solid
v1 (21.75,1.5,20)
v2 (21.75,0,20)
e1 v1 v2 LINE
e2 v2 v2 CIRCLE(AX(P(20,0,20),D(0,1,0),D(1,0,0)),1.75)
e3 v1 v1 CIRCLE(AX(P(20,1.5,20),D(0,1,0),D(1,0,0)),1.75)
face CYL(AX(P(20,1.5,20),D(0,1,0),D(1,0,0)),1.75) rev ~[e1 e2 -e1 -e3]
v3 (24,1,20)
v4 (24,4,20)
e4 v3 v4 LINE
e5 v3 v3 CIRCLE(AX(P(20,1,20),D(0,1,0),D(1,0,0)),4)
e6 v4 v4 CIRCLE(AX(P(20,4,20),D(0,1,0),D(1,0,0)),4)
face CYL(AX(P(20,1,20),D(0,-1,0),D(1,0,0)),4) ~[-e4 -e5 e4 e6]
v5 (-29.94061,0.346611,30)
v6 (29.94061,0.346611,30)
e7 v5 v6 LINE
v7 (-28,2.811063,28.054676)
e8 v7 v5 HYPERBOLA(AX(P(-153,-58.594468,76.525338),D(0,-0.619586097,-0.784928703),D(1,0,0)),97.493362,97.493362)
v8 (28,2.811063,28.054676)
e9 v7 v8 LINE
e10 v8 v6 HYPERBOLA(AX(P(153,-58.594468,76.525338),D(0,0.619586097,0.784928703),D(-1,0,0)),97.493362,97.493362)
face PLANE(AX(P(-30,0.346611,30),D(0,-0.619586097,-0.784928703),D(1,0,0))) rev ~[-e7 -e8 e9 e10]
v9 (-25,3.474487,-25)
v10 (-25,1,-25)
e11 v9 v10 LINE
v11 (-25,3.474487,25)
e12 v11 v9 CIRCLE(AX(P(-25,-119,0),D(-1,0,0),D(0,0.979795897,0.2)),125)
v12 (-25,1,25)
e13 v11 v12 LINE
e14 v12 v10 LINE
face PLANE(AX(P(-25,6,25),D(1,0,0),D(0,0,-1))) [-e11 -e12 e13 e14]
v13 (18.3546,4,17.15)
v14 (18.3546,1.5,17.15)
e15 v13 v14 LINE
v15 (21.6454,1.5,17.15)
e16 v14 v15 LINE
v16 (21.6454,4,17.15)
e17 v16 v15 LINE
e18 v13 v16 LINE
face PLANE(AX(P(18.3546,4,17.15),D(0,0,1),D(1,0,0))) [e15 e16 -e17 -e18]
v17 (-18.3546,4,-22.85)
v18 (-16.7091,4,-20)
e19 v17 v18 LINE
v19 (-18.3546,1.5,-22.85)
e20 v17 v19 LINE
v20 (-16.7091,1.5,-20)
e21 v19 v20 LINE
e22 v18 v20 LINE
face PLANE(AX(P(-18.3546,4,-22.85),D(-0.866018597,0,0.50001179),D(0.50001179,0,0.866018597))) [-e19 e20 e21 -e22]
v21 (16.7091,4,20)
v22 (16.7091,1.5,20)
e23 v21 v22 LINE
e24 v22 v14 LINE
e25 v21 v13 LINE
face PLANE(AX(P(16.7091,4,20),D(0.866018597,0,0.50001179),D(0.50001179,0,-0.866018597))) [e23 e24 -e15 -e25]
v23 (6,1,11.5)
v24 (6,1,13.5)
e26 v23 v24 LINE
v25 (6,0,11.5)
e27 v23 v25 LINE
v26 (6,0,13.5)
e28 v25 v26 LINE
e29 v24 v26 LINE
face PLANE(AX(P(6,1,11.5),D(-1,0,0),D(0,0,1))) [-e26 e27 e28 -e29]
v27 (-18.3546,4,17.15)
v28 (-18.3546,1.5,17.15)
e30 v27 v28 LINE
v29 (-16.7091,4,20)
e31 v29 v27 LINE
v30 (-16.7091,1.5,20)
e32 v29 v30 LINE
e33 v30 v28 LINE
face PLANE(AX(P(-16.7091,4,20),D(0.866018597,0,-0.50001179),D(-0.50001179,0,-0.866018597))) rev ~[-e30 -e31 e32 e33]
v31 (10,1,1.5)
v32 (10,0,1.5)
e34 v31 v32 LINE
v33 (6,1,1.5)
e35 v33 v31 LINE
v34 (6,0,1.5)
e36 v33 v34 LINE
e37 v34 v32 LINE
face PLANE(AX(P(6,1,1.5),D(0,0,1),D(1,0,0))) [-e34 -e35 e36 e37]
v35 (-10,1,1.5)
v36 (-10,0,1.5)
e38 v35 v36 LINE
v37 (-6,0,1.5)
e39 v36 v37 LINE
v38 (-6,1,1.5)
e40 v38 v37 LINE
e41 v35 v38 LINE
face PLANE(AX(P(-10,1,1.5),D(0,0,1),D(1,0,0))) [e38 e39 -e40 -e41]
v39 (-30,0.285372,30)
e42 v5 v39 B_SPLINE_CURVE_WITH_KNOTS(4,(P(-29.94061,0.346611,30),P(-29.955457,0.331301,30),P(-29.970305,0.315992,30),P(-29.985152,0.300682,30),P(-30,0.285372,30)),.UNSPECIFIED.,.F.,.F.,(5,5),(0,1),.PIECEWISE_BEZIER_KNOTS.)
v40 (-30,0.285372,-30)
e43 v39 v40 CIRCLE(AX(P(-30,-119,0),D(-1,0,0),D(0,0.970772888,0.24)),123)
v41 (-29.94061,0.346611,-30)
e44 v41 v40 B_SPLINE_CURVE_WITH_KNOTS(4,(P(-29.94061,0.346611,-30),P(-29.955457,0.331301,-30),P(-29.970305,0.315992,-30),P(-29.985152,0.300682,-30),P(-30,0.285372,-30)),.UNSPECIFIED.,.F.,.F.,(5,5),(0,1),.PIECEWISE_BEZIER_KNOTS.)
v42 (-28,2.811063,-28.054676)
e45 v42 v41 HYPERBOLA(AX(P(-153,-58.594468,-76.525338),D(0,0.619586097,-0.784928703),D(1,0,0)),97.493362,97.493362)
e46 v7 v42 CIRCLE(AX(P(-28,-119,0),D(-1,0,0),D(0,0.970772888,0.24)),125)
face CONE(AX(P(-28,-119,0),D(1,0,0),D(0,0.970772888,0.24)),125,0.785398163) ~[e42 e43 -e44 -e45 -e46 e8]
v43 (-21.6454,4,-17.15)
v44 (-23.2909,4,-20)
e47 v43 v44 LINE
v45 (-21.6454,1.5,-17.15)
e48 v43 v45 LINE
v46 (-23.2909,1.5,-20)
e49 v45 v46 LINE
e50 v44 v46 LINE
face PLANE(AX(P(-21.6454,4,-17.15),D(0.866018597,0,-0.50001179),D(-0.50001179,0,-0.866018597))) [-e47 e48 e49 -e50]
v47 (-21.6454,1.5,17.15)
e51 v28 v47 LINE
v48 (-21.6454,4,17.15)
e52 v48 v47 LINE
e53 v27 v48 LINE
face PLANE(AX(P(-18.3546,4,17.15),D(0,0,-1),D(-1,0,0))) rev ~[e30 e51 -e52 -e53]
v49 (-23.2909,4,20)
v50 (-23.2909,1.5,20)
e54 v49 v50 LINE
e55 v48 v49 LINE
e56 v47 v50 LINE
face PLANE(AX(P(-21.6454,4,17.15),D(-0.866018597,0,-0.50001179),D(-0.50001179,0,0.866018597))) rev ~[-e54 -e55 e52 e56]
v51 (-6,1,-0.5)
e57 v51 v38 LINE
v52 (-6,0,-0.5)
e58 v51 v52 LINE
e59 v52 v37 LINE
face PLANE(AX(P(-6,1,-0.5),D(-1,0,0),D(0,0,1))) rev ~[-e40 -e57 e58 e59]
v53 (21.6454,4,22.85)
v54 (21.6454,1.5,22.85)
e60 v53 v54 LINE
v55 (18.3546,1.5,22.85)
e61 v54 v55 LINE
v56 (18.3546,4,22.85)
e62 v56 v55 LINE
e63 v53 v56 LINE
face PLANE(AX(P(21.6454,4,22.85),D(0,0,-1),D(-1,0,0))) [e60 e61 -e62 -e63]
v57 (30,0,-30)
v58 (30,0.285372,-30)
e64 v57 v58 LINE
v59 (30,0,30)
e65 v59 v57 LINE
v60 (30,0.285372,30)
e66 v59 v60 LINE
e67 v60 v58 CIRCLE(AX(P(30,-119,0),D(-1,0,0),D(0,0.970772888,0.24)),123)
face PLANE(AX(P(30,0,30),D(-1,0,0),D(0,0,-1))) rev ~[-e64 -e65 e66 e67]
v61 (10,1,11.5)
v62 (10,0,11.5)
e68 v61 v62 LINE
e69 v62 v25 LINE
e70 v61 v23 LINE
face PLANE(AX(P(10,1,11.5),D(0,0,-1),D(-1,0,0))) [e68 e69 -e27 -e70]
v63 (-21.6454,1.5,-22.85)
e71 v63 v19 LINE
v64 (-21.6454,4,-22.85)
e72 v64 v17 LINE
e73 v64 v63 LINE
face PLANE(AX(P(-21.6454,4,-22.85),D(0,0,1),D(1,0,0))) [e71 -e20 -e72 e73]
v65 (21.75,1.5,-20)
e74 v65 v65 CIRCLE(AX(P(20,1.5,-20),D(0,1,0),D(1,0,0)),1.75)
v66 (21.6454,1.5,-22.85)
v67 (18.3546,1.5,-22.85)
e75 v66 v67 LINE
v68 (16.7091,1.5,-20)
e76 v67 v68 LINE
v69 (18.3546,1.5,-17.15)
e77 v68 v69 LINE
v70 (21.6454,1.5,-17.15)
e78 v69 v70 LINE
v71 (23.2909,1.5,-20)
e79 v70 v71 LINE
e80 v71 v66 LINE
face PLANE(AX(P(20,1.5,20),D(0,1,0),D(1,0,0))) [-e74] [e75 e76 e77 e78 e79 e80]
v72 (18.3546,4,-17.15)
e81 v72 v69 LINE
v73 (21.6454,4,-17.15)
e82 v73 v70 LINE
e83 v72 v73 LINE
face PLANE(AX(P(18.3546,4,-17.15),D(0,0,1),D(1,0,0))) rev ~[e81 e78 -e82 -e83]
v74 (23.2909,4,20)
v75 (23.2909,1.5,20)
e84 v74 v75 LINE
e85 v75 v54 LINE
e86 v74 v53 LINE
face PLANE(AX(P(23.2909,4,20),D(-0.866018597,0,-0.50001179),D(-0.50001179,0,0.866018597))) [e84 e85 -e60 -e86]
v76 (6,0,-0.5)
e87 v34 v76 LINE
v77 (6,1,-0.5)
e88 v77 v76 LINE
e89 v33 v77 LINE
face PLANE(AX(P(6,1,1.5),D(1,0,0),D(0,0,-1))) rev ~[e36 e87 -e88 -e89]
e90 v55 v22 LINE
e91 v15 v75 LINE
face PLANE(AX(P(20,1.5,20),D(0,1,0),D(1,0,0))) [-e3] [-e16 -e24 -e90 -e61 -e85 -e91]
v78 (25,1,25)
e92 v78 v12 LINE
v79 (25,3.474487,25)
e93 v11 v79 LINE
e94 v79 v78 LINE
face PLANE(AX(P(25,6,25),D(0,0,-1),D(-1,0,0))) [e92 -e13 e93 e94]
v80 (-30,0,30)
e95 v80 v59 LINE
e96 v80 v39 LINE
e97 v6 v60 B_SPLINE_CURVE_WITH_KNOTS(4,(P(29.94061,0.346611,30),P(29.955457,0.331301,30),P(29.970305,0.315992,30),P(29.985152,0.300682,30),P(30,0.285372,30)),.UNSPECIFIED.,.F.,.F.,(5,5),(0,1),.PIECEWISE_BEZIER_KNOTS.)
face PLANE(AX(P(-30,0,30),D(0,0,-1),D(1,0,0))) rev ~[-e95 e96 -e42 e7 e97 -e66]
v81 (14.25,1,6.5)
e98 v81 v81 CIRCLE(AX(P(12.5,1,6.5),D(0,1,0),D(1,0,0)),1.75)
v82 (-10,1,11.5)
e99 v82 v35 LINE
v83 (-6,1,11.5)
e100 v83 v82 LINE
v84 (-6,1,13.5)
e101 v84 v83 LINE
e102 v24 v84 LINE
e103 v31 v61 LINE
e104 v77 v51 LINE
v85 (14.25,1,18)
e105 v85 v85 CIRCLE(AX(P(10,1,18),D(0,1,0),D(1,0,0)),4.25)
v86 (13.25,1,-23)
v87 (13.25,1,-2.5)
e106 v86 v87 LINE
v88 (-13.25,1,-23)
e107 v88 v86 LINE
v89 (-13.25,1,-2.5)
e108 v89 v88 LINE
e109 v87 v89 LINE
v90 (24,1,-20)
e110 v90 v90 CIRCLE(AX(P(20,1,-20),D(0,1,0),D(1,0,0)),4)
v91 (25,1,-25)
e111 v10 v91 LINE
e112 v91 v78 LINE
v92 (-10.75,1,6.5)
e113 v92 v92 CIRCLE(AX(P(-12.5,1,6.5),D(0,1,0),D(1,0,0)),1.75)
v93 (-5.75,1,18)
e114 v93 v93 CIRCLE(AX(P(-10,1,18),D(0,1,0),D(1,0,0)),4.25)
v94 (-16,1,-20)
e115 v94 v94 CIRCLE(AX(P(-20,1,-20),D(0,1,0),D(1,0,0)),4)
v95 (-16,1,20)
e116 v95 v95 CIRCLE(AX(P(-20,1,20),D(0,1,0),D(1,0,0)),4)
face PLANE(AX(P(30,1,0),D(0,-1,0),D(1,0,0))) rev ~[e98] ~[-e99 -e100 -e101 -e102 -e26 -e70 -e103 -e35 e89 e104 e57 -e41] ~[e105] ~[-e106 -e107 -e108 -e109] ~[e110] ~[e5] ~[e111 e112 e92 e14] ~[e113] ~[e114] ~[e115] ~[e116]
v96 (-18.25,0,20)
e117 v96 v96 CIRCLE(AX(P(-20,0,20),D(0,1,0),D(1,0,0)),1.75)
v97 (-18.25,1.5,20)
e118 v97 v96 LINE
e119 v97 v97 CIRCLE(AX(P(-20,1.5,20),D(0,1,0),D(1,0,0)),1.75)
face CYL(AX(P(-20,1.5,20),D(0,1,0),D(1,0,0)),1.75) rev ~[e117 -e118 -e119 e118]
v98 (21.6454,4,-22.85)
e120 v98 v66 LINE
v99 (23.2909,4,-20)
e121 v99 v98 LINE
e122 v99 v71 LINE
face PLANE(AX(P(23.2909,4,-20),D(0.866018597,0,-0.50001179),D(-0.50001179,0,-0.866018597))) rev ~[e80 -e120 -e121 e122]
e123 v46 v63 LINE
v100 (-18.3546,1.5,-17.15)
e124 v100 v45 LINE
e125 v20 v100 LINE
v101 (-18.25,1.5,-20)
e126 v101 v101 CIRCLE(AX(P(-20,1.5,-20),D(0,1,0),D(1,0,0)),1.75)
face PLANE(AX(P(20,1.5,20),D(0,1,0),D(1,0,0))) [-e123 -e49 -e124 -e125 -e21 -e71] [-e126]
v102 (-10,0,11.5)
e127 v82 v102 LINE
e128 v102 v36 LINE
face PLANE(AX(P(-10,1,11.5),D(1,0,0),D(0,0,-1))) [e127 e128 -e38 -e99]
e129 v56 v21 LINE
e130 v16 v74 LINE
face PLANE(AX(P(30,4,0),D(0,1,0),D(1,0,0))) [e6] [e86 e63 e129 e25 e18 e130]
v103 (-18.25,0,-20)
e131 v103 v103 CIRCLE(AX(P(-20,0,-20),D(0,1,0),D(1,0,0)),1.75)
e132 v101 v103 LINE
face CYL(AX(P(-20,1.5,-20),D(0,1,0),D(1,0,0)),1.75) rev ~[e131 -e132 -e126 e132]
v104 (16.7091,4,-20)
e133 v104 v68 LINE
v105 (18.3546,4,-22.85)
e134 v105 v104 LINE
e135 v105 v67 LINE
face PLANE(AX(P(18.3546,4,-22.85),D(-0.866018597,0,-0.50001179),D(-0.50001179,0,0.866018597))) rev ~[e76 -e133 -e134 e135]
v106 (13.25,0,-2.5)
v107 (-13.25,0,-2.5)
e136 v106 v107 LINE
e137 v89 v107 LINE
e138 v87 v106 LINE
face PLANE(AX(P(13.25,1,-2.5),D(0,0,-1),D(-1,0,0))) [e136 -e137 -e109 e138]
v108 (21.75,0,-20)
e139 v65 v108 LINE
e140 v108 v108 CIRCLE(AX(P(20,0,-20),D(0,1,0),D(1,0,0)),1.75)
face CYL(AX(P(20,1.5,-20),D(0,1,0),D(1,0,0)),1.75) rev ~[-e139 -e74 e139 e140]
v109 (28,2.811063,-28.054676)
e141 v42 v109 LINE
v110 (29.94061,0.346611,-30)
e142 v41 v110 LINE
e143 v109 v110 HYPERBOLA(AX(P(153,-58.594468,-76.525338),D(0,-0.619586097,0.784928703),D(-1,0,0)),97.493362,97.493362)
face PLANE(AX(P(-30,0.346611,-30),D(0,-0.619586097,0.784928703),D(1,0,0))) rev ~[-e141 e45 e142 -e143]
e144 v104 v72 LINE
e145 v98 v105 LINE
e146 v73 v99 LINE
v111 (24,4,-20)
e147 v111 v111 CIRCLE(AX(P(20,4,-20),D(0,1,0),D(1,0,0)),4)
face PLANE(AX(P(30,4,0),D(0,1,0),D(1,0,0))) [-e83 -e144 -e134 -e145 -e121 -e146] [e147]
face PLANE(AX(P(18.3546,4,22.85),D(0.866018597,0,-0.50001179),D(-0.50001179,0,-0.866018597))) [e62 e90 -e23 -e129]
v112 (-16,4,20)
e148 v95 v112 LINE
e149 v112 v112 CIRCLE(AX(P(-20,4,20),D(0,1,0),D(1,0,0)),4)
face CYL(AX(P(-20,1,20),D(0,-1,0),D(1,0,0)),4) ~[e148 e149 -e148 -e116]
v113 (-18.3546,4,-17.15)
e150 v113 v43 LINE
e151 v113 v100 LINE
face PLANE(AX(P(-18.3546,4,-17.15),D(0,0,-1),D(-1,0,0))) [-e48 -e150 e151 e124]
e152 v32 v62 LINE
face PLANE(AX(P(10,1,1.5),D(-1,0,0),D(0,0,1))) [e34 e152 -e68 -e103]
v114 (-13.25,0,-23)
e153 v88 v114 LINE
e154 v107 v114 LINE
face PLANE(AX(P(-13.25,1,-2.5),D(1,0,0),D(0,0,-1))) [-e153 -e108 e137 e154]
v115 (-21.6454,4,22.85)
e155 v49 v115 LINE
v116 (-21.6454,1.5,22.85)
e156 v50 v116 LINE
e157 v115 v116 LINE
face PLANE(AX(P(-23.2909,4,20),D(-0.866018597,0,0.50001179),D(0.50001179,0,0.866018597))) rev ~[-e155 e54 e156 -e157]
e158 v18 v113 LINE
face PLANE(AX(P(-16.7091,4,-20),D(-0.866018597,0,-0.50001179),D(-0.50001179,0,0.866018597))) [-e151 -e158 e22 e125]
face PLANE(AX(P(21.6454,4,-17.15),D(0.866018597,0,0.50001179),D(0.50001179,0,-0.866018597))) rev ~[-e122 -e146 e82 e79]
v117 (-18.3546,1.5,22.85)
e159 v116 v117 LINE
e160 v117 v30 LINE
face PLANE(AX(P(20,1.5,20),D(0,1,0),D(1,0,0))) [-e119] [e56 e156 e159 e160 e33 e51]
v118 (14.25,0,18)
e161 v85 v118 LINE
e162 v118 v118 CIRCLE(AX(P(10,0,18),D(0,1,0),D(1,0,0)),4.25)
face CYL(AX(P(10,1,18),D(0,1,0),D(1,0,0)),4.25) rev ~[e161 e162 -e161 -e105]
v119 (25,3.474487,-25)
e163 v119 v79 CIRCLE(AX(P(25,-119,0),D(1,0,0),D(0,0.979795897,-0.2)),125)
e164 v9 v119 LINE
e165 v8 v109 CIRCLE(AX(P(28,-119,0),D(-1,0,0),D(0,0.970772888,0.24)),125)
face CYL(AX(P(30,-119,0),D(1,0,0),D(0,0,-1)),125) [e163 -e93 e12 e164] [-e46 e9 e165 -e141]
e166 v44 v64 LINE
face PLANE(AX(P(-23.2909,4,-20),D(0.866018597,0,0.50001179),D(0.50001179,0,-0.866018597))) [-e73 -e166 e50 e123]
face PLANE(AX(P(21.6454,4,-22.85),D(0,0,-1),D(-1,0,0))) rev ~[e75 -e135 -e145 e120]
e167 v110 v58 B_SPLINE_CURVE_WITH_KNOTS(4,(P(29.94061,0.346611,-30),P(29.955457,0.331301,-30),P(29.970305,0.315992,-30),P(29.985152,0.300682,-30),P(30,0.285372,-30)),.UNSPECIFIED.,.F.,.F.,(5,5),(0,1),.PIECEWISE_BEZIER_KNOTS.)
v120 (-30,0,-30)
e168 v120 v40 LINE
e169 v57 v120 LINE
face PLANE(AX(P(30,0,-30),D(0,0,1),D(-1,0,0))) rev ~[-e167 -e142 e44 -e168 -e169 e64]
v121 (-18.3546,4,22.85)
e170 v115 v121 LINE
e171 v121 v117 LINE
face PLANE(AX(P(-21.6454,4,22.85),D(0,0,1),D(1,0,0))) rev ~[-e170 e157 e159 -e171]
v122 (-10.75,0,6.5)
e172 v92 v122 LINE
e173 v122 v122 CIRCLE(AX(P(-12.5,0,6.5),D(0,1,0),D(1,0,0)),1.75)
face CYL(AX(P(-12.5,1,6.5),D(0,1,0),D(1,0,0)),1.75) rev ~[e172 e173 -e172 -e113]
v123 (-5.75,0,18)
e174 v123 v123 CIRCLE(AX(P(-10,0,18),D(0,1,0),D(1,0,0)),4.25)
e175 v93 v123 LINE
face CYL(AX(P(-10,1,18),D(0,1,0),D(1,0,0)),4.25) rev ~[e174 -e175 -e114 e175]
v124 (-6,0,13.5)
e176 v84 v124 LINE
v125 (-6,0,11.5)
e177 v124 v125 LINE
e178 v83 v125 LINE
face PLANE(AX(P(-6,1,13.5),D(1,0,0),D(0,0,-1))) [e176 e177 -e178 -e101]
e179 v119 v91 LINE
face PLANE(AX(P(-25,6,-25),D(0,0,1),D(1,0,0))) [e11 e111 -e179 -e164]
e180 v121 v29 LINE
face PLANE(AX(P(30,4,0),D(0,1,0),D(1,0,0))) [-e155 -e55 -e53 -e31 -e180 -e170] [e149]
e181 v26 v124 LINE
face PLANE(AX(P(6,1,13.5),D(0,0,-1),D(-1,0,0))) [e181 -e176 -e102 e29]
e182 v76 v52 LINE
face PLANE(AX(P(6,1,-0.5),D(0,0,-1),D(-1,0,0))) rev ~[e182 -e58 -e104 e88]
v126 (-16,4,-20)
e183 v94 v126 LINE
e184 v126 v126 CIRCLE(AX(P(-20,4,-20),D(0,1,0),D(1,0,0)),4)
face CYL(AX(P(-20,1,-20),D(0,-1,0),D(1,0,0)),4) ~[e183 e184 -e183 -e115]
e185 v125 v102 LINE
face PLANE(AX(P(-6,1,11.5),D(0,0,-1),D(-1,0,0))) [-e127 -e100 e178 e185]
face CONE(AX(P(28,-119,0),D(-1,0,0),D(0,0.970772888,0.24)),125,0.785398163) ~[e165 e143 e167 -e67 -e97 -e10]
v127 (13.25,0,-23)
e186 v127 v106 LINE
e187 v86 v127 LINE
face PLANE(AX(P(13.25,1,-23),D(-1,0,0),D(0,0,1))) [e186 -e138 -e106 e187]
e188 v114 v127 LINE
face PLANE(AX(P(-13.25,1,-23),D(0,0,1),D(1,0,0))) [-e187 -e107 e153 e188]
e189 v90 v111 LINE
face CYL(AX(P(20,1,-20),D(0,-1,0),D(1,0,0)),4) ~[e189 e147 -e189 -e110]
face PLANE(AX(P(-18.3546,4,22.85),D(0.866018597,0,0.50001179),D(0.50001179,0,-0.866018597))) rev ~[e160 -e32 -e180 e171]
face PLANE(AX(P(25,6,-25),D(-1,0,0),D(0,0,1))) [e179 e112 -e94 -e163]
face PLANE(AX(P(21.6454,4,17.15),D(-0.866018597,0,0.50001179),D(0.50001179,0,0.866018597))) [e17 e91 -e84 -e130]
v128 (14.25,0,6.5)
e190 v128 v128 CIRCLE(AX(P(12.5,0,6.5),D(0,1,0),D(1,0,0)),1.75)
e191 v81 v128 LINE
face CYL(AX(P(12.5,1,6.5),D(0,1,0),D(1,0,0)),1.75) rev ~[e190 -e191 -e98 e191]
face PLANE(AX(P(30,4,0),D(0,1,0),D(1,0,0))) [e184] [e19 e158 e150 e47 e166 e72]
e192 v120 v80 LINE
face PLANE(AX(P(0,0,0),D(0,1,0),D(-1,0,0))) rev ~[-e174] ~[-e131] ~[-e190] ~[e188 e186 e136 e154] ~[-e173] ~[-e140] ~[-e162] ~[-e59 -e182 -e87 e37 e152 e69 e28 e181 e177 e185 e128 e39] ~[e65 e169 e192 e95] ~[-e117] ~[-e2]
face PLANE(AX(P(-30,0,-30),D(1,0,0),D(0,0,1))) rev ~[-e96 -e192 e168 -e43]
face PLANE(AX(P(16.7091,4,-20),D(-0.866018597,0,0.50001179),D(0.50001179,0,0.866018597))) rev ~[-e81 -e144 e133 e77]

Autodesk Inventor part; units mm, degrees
ref_plane "YZ Plane" through (0, 0, 0) normal (1, 0, 0) x (0, 1, 0)
ref_plane "XZ Plane" through (0, 0, 0) normal (0, 1, 0) x (-1, 0, 0)
sketch "Sketch1" plane through (0, 0, 0) normal (0, 1, 0) x (-1, 0, 0)
  line L0 (30, 30) -> (-30, 30)
  line L1 (-30, 30) -> (-30, -30)
  line L2 (-30, -30) -> (30, -30)
  line L3 (30, -30) -> (30, 30)
  line L4 (30, 30) -> (-30, -30) construction
  line L5 (-30, 30) -> (30, -30) construction
  point P0 (0, 0)
  dimension "d0" = 60
  dimension "d1" = 60
extrude "Extrusion1" add sketch "Sketch1" along normal blind 6
sketch "Sketch2" plane through (30, 0, 30) normal (1, 0, 0) x (0, 0, -1)
  circle A0 centre (30, -119) radius 125
  line L0 (0, 6) -> (60, 6) projected
  line L1 (0, 0) -> (60, 0) projected
  point P0 (30, 0)
  point P1 (30, 0)
  dimension "d4" = 250
extrude "Extrusion2" cut sketch "Sketch2" against normal through all keep common part
ref_plane "Work Plane1" through (30, 6, 0) normal (0, -1, 0) x (1, 0, 0)
sketch "Sketch3" plane through (30, 6, 0) normal (0, -1, 0) x (1, 0, 0)
  line L0 (-55, -25) -> (-5, -25)
  line L1 (-5, -25) -> (-5, 25)
  line L2 (-5, 25) -> (-55, 25)
  line L3 (-55, 25) -> (-55, -25)
  line L4 (-55, -25) -> (-5, 25) construction
  line L5 (-5, -25) -> (-55, 25) construction
  line L6 (0, -30) -> (-60, -30) projected
  line L7 (0, 30) -> (0, -30) projected
  point P0 (-30, 0)
  point P1 (-30, 0)
  dimension "d19" = 5
  dimension "d20" = 5
extrude "Extrusion3" cut sketch "Sketch3" along normal blind 5
sketch "Sketch4" plane through (30, 1, 0) normal (0, 1, 0) x (1, 0, 0)
  line L0 (-43.25, 23) -> (-16.75, 23)
  line L1 (-16.75, 23) -> (-16.75, 2.5)
  line L2 (-16.75, 2.5) -> (-43.25, 2.5)
  line L3 (-43.25, 2.5) -> (-43.25, 23)
  line L4 (-43.25, 23) -> (-16.75, 2.5) construction
  line L5 (-16.75, 23) -> (-43.25, 2.5) construction
  line L6 (-55, 25) -> (-5, 25) projected
  line L7 (-30, 12.75) -> (-30, 10.9588)
  line L8 (-40, -1.5) -> (-20, -1.5)
  line L9 (-20, -1.5) -> (-20, -11.5)
  line L10 (-20, -11.5) -> (-40, -11.5)
  line L11 (-40, -11.5) -> (-40, -1.5)
  line L12 (-40, -1.5) -> (-20, -11.5) construction
  line L13 (-20, -1.5) -> (-40, -11.5) construction
  circle A0 centre (-42.5, -6.5) radius 1.75
  circle A1 centre (-17.5, -6.5) radius 1.75
  circle A2 centre (-40, -18) radius 4.25
  circle A3 centre (-20, -18) radius 4.25
  line L14 (-24, -13.5) -> (-36, -13.5)
  line L15 (-36, -13.5) -> (-36, -11.5)
  line L16 (-36, -11.5) -> (-24, -11.5)
  line L17 (-24, -11.5) -> (-24, -13.5)
  line L18 (-24, -13.5) -> (-36, -11.5) construction
  line L19 (-36, -13.5) -> (-24, -11.5) construction
  line L20 (-24, 0.5) -> (-36, 0.5)
  line L21 (-36, 0.5) -> (-36, -1.5)
  line L22 (-36, -1.5) -> (-24, -1.5)
  line L23 (-24, -1.5) -> (-24, 0.5)
  line L24 (-24, 0.5) -> (-36, -1.5) construction
  line L25 (-36, 0.5) -> (-24, -1.5) construction
  line L26 (0, 30) -> (-60, 30) projected
  point P0 (-30, 0)
  point P1 (-30, -6.5)
  point P2 (-30, -12.5)
  point P3 (-30, -0.5)
  point P4 (-24, -11.5)
  point P5 (-24, -1.5)
  dimension "d11" = 20.5
  dimension "d12" = 26.5
  dimension "d13" = 2
  dimension "d26" = 10
  dimension "d27" = 20
  dimension "d28" = 4
  dimension "d29" = 3.5
  dimension "d30" = 3.5
  dimension "d31" = 25
  dimension "d38" = 8.5
  dimension "d42" = 20
  dimension "d43" = 12
  dimension "d44" = 2
  dimension "d45" = 12
  dimension "d46" = 2
  dimension "d64" = 48
extrude "Extrusion4" cut sketch "Sketch4" against normal through all contours L0 L1 L2 L3
chamfer "Chamfer1" distance 2 angle 45 4 edges at (-30, 6, 0) (0, 2.3466, -30) (30, 6, 0) (0, 2.3466, 30)
extrude "Extrusion6" cut sketch "Sketch4" against normal blind 10 contours L8 L9 L10 L11 | L21 L20 L23 L8 | L10 L17 L14 L15
extrude "Extrusion7" cut sketch "Sketch4" against normal through all contours A0 | A1
sketch "Sketch8" plane through (30, 1, 0) normal (0, 1, 0) x (1, 0, 0)
  line L0 (-30, -21.9563) -> (-30, 0)
  line L1 (-30, 0) -> (-52.0851, 0)
  line L2 (-24, 0.5) -> (-36, 0.5) projected
  circle A0 centre (-10, -20) radius 4
  circle A1 centre (-50, -20) radius 4
  circle A2 centre (-10, 20) radius 4
  circle A3 centre (-50, 20) radius 4
  dimension "d56" = 8
  dimension "d57" = 40
  dimension "d58" = 40
extrude "Extrusion11" add sketch "Sketch8" along normal blind 3
sketch "Sketch9" plane through (20, 4, 20) normal (0, 1, 0) x (1, 0, 0)
  circle A0 centre (0, 0) radius 4 projected
  line L0 (-3.2909, 0) -> (-1.6454, 2.85)
  line L1 (-1.6454, 2.85) -> (1.6454, 2.85)
  line L2 (1.6454, 2.85) -> (3.2909, 0)
  line L3 (3.2909, 0) -> (1.6454, -2.85)
  line L4 (1.6454, -2.85) -> (-1.6454, -2.85)
  line L5 (-1.6454, -2.85) -> (-3.2909, 0)
  line L6 (-20, 20) -> (-20, -14.7527)
  line L7 (-20, 20) -> (-56.1519, 20)
  line L8 (-36.7091, 0) -> (-38.3546, 2.85)
  line L9 (-38.3546, 2.85) -> (-41.6454, 2.85)
  line L10 (-41.6454, 2.85) -> (-43.2909, 0)
  line L11 (-43.2909, 0) -> (-41.6454, -2.85)
  line L12 (-41.6454, -2.85) -> (-38.3546, -2.85)
  line L13 (-38.3546, -2.85) -> (-36.7091, 0)
  line L14 (-3.2909, 40) -> (-1.6454, 37.15)
  line L15 (-1.6454, 37.15) -> (1.6454, 37.15)
  line L16 (1.6454, 37.15) -> (3.2909, 40)
  line L17 (3.2909, 40) -> (1.6454, 42.85)
  line L18 (1.6454, 42.85) -> (-1.6454, 42.85)
  line L19 (-1.6454, 42.85) -> (-3.2909, 40)
  line L20 (-43.2909, 40) -> (-41.6454, 42.85)
  line L21 (-41.6454, 42.85) -> (-38.3546, 42.85)
  line L22 (-38.3546, 42.85) -> (-36.7091, 40)
  line L23 (-36.7091, 40) -> (-38.3546, 37.15)
  line L24 (-38.3546, 37.15) -> (-41.6454, 37.15)
  line L25 (-41.6454, 37.15) -> (-43.2909, 40)
  dimension "d61" = 5.7
extrude "Extrusion12" cut sketch "Sketch9" against normal blind 2.5 contours L0 L1 L2 L3 L4 L5 | L13 L12 L11 L10 L9 L8 | L19 L18 L17 L16 L15 L14 | L20 L21 L22 L23 L24 L25
extrude "Extrusion9" cut sketch "Sketch4" against normal through all contours A2 | A3
sketch "Sketch11" plane through (20, 1.5, 20) normal (0, 1, 0) x (1, 0, 0)
  circle A0 centre (0, 0) radius 1.75
  circle A1 centre (-40, 0) radius 1.75
  circle A2 centre (-40, 40) radius 1.75
  circle A3 centre (0, 40) radius 1.75
  point P0 (-20, 20)
  dimension "d72" = 3.5
  dimension "d73" = 3.5
  dimension "d74" = 3.5
  dimension "d75" = 3.5
extrude "Extrusion13" cut sketch "Sketch11" against normal through all
sketch "Sketch7" plane through (30, 1, 0) normal (0, 1, 0) x (1, 0, 0)
  circle A0 centre (-10, -6.5) radius 1.65
  circle A1 centre (-50, -6.5) radius 1.65
  line L0 (-30, -18.5284) -> (-30, 12.7052) construction
  circle A2 centre (-17.5, -6.5) radius 1.75 construction
  point P0 (-30, 0)
  dimension "d52" = 3.3
  dimension "d53" = 40
equation "\"d30\" = d29"
equation "\"d45\" = d43"
equation "\"d46\" = d44"
equation "\"d73\" = d72"
equation "\"d74\" = d72"
equation "\"d75\" = d72"
properties part number "power_signal_socket" material "Acetal Resin, Black"
